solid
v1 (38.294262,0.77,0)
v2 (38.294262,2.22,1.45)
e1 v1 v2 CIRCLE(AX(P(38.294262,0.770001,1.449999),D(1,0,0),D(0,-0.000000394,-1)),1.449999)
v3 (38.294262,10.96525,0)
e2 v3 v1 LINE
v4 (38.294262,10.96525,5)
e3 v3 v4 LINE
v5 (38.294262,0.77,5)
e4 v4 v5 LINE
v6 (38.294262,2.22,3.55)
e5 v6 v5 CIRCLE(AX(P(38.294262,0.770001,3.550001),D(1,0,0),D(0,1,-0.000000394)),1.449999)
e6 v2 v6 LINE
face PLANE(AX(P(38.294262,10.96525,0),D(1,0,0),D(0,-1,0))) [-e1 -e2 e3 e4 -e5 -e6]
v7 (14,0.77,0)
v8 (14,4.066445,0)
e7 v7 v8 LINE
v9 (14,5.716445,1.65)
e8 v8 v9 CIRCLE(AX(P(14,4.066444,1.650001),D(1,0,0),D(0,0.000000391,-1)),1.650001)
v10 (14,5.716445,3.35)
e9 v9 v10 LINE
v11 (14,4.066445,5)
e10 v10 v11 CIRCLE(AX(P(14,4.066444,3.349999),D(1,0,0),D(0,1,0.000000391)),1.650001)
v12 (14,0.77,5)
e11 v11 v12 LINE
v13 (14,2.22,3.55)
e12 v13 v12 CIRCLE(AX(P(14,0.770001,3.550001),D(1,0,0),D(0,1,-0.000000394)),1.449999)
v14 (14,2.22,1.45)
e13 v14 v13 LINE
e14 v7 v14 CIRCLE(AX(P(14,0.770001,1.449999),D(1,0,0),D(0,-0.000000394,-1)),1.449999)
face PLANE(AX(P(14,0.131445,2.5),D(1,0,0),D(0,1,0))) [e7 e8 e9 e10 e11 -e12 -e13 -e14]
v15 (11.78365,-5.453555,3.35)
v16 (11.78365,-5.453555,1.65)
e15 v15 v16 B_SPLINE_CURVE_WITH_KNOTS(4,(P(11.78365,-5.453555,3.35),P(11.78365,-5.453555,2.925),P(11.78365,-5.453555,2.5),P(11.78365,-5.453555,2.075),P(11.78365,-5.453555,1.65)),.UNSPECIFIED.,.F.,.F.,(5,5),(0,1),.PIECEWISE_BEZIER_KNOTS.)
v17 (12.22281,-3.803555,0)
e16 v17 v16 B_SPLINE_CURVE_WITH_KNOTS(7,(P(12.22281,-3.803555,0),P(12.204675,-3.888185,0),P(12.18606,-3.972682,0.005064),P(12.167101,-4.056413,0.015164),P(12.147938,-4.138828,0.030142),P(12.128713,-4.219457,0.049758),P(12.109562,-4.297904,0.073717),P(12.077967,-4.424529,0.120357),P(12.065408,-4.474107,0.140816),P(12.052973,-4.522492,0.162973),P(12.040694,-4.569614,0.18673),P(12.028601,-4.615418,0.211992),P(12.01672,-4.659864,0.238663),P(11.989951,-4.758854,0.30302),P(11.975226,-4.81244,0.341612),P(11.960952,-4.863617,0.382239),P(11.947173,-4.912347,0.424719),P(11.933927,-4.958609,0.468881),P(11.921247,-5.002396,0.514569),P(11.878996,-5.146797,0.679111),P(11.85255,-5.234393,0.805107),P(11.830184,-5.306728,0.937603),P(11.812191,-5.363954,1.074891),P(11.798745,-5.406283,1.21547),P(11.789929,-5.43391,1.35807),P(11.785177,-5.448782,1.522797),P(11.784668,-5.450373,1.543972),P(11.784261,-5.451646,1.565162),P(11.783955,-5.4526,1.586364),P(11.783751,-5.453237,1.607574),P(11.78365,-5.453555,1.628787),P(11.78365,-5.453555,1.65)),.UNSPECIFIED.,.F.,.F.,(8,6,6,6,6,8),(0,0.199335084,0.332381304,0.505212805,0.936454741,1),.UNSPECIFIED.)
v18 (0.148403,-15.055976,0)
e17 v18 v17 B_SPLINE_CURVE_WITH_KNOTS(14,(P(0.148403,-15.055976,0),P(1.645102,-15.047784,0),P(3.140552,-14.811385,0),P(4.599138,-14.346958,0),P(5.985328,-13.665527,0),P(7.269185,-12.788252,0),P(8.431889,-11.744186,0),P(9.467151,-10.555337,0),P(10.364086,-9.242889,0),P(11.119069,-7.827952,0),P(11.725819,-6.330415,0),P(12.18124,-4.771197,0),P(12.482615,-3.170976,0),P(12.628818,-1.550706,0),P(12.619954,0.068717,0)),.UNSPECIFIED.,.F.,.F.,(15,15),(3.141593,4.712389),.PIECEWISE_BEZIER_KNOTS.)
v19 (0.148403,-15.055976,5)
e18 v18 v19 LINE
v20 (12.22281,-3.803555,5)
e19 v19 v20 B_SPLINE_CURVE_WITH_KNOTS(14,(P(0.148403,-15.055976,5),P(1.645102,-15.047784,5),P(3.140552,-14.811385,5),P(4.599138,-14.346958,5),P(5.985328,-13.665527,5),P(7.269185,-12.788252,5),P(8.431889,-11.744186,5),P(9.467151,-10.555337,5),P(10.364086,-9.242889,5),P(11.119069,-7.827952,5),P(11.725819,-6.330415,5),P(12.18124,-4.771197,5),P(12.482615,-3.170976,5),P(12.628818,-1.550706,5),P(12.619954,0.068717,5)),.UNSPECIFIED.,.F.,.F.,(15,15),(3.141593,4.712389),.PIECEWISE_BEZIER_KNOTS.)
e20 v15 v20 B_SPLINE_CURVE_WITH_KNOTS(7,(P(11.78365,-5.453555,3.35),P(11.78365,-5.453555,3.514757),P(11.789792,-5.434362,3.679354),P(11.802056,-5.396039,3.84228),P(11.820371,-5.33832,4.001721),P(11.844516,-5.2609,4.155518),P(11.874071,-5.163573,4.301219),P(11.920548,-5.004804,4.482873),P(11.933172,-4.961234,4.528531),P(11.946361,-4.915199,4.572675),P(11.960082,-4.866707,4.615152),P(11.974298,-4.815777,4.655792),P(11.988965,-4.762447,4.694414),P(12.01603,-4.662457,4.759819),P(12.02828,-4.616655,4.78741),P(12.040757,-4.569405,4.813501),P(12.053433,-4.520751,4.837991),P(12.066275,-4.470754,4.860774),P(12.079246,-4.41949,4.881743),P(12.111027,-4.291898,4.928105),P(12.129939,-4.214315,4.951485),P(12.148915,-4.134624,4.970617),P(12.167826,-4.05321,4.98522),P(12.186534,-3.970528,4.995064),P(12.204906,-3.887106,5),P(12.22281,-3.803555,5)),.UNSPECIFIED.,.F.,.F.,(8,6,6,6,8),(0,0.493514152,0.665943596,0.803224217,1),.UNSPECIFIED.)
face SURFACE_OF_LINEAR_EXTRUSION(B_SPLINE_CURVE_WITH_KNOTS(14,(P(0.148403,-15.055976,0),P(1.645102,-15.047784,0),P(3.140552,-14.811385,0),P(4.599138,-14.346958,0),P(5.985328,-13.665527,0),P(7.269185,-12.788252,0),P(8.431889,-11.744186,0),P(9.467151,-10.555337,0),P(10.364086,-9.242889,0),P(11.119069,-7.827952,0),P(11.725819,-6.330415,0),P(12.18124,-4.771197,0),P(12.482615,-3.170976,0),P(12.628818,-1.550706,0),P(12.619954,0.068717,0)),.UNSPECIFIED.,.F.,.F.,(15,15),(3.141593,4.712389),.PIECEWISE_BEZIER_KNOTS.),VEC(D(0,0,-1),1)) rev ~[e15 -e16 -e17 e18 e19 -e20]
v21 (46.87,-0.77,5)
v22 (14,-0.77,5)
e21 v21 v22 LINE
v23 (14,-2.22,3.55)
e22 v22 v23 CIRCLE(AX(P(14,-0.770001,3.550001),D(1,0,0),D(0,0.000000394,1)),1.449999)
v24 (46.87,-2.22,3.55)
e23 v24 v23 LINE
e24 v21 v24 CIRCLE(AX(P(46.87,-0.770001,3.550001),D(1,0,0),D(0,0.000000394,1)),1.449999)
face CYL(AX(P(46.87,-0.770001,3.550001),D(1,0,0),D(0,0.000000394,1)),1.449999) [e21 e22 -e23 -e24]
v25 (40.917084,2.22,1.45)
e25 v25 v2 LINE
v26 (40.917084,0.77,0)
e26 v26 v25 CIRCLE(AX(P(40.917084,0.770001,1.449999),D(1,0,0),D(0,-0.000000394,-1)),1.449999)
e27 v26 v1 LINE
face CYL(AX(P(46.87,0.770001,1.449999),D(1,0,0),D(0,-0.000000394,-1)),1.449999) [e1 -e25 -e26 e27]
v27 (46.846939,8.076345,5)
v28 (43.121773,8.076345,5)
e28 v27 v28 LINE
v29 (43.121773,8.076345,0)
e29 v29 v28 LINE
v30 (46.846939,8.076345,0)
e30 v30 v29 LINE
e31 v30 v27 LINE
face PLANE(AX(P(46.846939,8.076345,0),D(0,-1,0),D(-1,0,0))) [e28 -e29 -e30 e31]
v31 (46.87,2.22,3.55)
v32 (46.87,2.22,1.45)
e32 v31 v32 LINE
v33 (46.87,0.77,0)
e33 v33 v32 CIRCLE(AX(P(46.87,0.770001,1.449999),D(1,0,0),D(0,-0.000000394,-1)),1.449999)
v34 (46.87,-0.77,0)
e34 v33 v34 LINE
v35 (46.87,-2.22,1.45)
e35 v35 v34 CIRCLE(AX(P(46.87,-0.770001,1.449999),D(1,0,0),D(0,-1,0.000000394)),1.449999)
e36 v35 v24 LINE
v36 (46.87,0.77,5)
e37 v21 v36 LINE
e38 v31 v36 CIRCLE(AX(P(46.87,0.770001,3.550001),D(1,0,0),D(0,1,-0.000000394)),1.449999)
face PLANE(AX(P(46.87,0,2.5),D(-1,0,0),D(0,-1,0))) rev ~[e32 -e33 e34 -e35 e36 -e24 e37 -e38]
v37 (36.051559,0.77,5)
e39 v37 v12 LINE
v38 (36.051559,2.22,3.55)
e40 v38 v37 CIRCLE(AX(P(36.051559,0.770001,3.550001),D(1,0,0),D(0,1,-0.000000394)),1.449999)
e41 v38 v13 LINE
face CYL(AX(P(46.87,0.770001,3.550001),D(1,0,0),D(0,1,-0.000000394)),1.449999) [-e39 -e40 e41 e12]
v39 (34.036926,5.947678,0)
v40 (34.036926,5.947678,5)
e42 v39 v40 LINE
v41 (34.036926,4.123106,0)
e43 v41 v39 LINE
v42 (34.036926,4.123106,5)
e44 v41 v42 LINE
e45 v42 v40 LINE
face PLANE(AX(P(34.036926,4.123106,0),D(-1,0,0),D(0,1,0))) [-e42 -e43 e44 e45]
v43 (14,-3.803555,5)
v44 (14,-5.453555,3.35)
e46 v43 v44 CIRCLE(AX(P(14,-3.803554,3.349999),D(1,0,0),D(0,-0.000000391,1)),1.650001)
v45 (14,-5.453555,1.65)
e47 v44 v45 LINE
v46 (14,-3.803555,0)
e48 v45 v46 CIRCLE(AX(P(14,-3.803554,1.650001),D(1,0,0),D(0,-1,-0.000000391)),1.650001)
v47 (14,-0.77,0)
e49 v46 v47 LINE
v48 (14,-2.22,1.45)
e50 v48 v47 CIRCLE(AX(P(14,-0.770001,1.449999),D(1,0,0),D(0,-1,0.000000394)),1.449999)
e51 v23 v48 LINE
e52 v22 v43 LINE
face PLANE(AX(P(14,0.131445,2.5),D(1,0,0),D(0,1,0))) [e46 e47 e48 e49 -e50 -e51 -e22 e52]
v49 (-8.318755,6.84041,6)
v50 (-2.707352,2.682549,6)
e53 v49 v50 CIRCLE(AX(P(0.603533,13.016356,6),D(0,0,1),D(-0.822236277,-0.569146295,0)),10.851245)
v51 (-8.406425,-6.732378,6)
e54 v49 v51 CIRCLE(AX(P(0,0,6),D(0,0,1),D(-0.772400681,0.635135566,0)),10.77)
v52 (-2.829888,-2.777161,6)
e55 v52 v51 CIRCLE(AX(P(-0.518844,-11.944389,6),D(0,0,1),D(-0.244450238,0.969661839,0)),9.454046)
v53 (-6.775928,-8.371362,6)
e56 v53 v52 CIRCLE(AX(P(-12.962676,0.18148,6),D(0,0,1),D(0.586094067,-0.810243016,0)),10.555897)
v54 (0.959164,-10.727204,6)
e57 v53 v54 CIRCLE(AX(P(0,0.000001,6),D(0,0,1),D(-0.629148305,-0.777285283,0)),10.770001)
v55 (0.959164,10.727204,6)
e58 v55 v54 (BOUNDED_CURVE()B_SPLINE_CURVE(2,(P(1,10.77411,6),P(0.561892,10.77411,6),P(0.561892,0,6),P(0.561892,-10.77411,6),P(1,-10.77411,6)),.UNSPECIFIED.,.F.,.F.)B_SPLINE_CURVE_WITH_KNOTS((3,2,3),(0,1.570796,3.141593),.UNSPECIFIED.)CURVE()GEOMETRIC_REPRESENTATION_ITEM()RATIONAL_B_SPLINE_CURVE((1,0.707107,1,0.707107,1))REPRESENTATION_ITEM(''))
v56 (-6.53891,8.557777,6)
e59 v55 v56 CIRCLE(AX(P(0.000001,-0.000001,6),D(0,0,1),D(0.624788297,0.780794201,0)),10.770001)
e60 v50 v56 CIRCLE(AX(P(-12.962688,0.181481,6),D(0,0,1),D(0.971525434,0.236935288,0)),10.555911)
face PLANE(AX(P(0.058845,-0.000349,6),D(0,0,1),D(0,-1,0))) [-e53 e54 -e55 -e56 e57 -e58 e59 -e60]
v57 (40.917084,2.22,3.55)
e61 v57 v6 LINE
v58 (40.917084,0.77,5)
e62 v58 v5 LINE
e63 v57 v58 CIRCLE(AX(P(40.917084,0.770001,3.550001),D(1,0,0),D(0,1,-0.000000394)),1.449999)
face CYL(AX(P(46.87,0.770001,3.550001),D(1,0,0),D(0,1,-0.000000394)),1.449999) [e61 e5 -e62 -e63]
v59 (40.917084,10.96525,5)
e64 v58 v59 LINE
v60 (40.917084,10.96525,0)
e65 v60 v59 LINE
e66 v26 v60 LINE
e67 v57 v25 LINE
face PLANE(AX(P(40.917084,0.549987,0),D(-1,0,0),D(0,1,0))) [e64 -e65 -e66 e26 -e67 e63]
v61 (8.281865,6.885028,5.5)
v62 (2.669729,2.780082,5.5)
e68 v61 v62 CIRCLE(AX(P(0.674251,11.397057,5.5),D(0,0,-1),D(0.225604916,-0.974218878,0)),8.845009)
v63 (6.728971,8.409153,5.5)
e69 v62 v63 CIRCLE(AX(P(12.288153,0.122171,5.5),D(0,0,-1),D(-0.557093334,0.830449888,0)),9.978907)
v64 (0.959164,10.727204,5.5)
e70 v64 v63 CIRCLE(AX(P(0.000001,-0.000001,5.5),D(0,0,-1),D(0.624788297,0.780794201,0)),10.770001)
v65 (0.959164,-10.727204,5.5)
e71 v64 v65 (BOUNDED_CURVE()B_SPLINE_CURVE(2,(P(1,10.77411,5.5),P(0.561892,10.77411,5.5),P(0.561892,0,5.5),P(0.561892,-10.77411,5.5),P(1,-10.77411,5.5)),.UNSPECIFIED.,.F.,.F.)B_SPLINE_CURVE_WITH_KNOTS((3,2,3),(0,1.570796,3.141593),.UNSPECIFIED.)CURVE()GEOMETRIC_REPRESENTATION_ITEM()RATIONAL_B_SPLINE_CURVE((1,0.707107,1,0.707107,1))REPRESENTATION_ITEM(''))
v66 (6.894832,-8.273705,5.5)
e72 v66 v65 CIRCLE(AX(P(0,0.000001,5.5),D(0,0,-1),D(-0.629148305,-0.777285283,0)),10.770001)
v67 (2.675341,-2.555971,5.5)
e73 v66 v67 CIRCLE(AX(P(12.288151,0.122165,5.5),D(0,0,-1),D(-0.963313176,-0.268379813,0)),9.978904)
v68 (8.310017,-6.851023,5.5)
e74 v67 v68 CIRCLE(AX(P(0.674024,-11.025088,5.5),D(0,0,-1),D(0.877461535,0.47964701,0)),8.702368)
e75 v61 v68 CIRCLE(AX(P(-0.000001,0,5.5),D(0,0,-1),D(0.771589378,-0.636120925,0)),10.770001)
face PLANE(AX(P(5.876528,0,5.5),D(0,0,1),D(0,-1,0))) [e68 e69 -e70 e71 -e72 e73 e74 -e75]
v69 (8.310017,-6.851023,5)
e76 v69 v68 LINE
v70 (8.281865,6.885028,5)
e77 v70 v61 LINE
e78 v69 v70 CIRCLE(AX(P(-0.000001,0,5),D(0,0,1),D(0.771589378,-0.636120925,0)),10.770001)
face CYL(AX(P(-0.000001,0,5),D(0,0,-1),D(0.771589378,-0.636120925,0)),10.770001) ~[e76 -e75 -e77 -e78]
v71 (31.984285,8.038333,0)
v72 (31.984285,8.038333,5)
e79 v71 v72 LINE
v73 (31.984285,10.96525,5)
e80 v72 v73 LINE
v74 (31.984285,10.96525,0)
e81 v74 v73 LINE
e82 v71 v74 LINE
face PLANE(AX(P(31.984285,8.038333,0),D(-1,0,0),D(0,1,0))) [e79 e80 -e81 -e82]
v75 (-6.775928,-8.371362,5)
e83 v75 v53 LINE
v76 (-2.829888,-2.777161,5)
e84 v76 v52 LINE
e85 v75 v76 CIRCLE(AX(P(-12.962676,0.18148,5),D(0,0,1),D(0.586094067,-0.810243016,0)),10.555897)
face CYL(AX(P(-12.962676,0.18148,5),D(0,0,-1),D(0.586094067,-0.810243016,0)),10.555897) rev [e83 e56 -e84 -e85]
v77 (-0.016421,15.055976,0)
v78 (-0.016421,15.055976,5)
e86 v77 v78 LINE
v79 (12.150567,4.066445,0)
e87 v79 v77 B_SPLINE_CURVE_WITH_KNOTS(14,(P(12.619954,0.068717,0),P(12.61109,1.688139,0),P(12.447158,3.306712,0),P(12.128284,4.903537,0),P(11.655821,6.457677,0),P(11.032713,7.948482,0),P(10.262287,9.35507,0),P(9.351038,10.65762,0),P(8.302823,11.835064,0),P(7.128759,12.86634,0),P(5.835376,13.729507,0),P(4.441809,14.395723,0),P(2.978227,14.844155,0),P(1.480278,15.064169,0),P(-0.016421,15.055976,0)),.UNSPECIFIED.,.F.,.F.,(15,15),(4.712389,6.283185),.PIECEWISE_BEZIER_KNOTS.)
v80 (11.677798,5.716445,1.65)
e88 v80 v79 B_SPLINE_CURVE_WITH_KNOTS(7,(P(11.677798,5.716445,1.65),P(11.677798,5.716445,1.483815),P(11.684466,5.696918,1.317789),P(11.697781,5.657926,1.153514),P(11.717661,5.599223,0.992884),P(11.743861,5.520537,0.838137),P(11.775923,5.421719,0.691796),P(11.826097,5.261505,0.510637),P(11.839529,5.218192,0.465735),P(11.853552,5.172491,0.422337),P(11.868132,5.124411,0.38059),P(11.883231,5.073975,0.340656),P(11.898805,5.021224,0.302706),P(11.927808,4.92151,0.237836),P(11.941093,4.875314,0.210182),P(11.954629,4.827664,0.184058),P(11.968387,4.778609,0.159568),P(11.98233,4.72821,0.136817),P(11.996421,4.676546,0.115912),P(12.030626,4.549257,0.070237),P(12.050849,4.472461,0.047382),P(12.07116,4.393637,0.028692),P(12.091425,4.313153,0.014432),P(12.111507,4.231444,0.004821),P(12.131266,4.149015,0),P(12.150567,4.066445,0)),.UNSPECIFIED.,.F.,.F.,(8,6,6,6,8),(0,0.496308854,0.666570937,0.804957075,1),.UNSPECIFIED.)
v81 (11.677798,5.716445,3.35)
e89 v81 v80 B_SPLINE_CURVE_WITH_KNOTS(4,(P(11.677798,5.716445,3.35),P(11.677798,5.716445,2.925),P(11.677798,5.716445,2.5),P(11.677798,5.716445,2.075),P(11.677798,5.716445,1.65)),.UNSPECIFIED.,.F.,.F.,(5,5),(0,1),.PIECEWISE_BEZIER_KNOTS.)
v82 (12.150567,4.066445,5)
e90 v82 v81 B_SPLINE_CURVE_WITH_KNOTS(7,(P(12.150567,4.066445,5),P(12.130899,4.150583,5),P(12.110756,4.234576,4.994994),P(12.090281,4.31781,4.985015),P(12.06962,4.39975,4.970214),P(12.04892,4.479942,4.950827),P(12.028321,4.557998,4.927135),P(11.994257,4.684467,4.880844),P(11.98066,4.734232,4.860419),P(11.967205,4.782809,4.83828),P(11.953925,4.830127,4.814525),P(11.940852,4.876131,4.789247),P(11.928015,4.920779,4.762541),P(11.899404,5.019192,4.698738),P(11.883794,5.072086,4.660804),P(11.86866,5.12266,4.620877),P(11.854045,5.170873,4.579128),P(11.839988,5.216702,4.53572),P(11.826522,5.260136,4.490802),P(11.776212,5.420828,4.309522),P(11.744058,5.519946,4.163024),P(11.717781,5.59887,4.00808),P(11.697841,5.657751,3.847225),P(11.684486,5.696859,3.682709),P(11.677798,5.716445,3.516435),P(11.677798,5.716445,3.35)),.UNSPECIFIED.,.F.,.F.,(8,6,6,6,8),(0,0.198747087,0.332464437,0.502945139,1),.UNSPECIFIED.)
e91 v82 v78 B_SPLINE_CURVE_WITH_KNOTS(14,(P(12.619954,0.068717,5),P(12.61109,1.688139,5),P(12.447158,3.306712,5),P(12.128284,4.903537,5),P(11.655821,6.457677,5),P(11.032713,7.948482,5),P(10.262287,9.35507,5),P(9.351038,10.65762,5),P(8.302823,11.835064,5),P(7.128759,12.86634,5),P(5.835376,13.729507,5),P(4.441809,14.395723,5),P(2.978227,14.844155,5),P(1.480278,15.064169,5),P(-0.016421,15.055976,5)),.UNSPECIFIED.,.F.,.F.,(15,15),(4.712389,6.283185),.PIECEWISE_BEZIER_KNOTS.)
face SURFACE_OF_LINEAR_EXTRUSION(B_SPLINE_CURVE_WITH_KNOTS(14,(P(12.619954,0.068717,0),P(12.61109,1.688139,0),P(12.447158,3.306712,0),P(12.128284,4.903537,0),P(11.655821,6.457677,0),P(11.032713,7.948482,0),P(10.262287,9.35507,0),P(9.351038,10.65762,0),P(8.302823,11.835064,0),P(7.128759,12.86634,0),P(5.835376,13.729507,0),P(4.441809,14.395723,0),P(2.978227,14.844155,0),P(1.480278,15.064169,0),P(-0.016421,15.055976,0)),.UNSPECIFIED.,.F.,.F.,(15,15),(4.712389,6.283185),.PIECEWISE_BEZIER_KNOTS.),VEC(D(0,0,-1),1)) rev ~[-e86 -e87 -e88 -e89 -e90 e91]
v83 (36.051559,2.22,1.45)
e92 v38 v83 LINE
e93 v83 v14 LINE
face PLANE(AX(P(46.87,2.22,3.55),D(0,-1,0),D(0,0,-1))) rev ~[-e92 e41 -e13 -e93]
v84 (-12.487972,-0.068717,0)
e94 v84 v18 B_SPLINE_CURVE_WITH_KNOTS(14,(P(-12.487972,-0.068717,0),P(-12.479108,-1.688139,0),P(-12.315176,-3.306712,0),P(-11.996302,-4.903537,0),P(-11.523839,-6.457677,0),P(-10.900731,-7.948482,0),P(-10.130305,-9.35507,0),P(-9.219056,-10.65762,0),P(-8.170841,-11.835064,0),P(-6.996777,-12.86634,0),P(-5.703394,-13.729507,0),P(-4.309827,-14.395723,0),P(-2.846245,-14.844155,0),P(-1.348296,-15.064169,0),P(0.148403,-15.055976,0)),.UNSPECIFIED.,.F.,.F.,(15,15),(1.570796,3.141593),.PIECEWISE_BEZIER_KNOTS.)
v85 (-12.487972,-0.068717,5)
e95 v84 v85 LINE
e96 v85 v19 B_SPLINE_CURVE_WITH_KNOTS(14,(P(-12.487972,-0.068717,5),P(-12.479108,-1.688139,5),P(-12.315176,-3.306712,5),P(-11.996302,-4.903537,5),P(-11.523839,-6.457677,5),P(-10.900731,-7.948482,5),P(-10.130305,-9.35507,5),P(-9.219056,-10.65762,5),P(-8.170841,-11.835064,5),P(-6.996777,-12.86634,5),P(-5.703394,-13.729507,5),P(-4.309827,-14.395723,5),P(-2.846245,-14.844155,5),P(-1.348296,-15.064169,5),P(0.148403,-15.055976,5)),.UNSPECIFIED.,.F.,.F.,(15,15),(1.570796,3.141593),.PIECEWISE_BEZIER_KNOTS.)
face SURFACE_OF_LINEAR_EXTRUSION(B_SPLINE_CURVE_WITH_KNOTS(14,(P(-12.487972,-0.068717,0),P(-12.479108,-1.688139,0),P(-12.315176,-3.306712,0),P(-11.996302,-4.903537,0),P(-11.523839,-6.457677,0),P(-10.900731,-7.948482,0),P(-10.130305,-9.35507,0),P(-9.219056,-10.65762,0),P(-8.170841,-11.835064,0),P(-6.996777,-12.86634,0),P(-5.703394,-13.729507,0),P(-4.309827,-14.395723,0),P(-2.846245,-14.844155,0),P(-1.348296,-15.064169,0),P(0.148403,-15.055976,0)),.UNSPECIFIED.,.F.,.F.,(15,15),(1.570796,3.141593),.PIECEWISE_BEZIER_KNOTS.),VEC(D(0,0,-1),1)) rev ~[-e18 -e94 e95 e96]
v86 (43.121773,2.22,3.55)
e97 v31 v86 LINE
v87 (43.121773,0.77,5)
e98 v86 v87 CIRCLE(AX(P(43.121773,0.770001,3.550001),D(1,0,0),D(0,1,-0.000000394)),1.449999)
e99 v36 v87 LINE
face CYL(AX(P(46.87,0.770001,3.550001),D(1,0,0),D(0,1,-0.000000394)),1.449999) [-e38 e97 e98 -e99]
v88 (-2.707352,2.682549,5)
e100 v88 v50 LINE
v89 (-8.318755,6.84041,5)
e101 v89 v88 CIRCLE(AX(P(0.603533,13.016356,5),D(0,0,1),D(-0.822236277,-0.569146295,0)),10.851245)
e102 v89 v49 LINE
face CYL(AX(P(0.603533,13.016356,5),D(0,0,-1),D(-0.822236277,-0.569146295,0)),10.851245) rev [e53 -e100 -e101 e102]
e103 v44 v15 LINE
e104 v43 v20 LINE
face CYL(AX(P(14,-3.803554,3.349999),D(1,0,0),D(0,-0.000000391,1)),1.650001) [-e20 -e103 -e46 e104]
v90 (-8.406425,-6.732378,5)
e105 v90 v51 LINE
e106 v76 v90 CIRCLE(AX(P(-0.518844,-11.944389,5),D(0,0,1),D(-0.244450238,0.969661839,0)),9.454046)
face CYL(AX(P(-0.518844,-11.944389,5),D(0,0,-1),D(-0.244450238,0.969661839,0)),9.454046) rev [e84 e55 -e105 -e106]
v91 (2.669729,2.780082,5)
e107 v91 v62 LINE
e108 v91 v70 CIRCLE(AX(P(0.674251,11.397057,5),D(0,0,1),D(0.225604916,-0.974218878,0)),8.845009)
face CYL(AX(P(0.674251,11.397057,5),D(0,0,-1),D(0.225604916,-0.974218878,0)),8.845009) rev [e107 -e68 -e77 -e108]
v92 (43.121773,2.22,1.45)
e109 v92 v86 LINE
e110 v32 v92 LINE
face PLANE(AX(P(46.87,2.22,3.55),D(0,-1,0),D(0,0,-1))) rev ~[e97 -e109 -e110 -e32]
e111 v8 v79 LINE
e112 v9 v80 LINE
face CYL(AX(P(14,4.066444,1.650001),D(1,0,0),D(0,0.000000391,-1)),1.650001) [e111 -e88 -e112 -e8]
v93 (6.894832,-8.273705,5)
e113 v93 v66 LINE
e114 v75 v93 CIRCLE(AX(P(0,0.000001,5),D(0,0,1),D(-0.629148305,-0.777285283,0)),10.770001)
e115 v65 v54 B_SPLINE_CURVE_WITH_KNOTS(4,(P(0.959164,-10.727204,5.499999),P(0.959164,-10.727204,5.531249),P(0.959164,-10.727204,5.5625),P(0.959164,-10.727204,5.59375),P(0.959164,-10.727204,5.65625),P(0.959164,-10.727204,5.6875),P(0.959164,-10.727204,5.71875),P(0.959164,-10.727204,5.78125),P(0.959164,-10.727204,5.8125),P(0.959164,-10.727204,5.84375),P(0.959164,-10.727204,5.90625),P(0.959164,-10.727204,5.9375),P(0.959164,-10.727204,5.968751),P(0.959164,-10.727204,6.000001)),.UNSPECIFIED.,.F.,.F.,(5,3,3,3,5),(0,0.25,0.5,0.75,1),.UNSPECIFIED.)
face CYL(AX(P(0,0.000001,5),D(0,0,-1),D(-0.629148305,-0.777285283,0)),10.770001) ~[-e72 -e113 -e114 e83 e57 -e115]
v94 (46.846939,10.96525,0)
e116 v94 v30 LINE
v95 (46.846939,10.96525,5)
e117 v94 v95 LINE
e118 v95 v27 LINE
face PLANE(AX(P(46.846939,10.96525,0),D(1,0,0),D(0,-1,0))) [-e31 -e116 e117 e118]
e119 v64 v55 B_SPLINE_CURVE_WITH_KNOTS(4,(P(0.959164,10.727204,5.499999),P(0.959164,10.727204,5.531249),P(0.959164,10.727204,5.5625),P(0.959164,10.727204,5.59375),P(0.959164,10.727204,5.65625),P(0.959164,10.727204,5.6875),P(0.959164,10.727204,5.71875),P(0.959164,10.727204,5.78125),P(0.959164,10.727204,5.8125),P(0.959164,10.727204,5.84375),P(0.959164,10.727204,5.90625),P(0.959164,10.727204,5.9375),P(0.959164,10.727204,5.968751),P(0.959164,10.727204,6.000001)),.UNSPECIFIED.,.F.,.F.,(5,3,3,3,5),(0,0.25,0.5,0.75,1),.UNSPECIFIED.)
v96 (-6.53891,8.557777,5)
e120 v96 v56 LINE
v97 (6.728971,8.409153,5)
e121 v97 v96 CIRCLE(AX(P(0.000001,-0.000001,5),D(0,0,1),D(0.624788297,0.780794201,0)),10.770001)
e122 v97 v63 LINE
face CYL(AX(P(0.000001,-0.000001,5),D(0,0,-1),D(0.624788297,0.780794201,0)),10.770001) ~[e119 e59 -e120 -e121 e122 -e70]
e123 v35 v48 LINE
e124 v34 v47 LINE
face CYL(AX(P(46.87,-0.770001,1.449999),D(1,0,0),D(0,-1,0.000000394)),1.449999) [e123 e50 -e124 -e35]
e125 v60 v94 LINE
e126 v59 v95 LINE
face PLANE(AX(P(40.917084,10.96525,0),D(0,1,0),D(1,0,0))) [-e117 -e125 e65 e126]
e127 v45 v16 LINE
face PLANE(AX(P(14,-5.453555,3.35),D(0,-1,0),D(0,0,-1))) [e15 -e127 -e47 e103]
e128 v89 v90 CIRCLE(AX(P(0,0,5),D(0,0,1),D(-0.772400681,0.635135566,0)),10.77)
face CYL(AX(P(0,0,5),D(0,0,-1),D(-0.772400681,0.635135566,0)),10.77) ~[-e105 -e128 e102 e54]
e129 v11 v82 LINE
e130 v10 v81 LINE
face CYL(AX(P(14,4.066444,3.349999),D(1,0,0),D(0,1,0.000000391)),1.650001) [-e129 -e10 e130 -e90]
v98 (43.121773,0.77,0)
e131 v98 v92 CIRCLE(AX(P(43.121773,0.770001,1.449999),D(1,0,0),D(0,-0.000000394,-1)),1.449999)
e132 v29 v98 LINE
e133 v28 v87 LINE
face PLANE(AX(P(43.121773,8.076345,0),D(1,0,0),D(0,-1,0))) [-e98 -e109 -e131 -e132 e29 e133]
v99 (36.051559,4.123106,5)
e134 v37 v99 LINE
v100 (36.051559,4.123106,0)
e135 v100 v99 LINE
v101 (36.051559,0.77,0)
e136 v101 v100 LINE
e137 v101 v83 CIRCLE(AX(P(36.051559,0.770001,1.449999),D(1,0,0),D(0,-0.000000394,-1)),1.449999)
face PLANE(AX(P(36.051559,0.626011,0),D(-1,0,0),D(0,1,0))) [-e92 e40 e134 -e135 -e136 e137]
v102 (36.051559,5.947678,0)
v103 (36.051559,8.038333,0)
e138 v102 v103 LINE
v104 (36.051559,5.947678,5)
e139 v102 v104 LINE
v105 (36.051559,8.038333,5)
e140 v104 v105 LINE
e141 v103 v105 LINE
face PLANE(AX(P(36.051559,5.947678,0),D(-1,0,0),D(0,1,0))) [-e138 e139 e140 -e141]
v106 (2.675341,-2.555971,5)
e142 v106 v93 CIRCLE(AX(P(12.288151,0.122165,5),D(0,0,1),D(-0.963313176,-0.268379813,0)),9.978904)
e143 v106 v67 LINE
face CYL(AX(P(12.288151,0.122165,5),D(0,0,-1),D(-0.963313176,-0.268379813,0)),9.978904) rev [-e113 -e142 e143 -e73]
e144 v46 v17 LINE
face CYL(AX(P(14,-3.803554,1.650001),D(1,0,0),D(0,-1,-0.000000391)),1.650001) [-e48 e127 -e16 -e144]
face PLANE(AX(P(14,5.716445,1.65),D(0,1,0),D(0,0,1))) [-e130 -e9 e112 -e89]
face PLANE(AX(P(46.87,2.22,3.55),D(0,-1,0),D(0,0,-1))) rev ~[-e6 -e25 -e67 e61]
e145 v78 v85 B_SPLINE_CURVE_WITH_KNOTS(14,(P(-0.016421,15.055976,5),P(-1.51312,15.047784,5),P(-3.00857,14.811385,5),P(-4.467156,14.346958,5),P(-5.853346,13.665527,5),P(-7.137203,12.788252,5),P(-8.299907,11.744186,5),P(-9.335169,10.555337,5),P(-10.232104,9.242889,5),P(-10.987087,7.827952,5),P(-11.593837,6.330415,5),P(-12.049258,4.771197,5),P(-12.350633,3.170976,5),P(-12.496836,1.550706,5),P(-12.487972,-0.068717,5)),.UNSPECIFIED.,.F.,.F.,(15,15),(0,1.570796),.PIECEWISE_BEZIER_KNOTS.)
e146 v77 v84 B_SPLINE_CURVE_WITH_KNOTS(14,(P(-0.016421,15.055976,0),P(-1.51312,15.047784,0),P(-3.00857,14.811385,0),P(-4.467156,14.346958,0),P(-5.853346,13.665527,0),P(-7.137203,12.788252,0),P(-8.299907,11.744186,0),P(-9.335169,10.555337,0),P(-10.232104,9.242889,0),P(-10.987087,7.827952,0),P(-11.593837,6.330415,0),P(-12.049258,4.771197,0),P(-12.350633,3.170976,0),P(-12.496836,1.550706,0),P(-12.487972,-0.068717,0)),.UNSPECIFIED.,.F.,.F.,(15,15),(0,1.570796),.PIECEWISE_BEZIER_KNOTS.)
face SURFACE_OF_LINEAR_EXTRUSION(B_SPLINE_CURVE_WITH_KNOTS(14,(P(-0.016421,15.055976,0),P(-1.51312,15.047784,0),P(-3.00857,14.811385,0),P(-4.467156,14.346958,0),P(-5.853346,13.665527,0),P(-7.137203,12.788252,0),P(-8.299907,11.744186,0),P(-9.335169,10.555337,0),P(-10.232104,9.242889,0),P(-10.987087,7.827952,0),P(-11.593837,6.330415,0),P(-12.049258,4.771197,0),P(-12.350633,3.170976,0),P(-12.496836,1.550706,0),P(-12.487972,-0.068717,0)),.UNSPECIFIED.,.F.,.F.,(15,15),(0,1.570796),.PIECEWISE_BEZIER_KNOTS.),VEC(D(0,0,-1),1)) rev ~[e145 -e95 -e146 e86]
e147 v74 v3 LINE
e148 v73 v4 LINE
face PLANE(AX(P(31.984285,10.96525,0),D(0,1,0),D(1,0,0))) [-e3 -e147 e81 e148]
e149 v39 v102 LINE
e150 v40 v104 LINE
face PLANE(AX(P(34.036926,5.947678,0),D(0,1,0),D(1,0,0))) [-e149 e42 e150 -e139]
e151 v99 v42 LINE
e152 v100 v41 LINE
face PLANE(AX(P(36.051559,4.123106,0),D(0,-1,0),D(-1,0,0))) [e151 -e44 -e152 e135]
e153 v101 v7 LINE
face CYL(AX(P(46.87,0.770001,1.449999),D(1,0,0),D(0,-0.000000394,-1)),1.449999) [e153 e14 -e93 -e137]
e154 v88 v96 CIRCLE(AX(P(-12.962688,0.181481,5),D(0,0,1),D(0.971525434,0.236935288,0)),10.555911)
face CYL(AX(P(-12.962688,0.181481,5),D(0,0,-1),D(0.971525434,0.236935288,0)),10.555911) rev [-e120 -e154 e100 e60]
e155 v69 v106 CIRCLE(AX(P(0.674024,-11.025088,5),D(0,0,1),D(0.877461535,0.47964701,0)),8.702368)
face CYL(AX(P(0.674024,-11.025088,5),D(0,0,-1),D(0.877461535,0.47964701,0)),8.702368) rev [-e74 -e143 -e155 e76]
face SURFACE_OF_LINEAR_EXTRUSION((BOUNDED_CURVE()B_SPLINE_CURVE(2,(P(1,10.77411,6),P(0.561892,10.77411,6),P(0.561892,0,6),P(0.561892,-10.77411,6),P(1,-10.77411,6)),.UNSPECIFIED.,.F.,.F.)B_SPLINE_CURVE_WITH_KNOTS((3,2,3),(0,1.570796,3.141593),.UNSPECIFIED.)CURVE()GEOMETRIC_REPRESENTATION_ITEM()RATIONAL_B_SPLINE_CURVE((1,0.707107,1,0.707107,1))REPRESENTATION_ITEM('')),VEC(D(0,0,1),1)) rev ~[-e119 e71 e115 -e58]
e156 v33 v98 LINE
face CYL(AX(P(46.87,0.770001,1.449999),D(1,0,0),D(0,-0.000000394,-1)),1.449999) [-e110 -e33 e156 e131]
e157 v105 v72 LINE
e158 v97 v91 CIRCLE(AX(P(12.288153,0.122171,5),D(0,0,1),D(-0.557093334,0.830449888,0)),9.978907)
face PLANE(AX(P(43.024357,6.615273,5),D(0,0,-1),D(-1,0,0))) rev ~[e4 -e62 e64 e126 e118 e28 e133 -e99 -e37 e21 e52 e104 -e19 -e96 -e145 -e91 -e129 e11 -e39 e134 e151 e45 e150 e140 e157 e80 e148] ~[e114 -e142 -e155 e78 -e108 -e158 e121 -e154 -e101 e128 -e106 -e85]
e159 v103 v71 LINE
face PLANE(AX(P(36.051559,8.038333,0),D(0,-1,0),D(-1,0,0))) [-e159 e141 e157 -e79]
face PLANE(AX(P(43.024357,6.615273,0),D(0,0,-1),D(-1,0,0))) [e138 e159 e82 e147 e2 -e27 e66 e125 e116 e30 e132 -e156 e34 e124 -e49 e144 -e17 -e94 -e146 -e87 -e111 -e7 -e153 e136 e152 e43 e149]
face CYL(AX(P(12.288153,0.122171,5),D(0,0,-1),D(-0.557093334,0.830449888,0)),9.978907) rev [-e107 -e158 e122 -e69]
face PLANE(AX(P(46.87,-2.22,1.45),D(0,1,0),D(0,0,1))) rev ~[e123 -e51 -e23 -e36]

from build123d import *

# Parameters (mm, degrees)
PAD002_DEPTH = 35
PAD003_DEPTH = 4
PAD004_DEPTH = 5
PAD005_DEPTH = 5
PAD_DEPTH    = 1
POCKET_DEPTH = 0.5


with BuildPart() as part:
    # Sketch002 → Pad002 (new body)
    with BuildSketch(Plane.YZ.offset(46.87)):
        with BuildLine():
            Line((-0.77, 5), (0.77, 5))
            ThreePointArc((2.22, 3.55), (1.795305, 4.575305), (0.77, 5))
            Line((2.22, 3.55), (2.22, 1.45))
            ThreePointArc((0.77, 0), (1.795305, 0.424695), (2.22, 1.45))
            Line((0.77, 0), (-0.77, 0))
            ThreePointArc((-2.22, 1.45), (-1.795305, 0.424695), (-0.77, 0))
            Line((-2.22, 1.45), (-2.22, 3.55))
            ThreePointArc((-0.77, 5), (-1.795305, 4.575305), (-2.22, 3.55))
        make_face()
    extrude(amount=-PAD002_DEPTH)

    # Sketch003 → Pad003 (join)
    with BuildSketch(Plane.YZ.offset(14)):
        with BuildLine():
            Line((-3.803555, 0), (4.066445, 0))
            ThreePointArc((4.066445, 0), (5.233171, 0.483274), (5.716445, 1.65))
            Line((5.716445, 1.65), (5.716445, 3.35))
            ThreePointArc((5.716445, 3.35), (5.233171, 4.516726), (4.066445, 5))
            Line((4.066445, 5), (-3.803555, 5))
            ThreePointArc((-3.803555, 5), (-4.970281, 4.516726), (-5.453555, 3.35))
            Line((-5.453555, 3.35), (-5.453555, 1.65))
            ThreePointArc((-5.453555, 1.65), (-4.970281, 0.483274), (-3.803555, 0))
        make_face()
    extrude(amount=-PAD003_DEPTH)

    # Sketch005 → Pad004 (join)
    with BuildSketch(Plane.XY):
        with BuildLine():
            add(Edge.make_bspline(
                [(-0.016421, 15.055976), (-1.51312, 15.047784), (-3.00857, 14.811385), (-4.467156, 14.346958), (-5.853346, 13.665527), (-7.137203, 12.788252), (-8.299907, 11.744186), (-9.335169, 10.555337), (-10.232104, 9.242889), (-10.987087, 7.827952), (-11.593837, 6.330415), (-12.049258, 4.771197), (-12.350633, 3.170976), (-12.496836, 1.550706), (-12.487972, -0.068717)],
                knots=[0, 0, 0, 0, 0, 0, 0, 0, 0, 0, 0, 0, 0, 0, 0, 1.570796, 1.570796, 1.570796, 1.570796, 1.570796, 1.570796, 1.570796, 1.570796, 1.570796, 1.570796, 1.570796, 1.570796, 1.570796, 1.570796, 1.570796], degree=14))
            add(Edge.make_bspline(
                [(-12.487972, -0.068717), (-12.479108, -1.688139), (-12.315176, -3.306712), (-11.996302, -4.903537), (-11.523839, -6.457677), (-10.900731, -7.948482), (-10.130305, -9.35507), (-9.219056, -10.65762), (-8.170841, -11.835064), (-6.996777, -12.86634), (-5.703394, -13.729507), (-4.309827, -14.395723), (-2.846245, -14.844155), (-1.348296, -15.064169), (0.148403, -15.055976)],
                knots=[1.570796, 1.570796, 1.570796, 1.570796, 1.570796, 1.570796, 1.570796, 1.570796, 1.570796, 1.570796, 1.570796, 1.570796, 1.570796, 1.570796, 1.570796, 3.141593, 3.141593, 3.141593, 3.141593, 3.141593, 3.141593, 3.141593, 3.141593, 3.141593, 3.141593, 3.141593, 3.141593, 3.141593, 3.141593, 3.141593], degree=14))
            add(Edge.make_bspline(
                [(0.148403, -15.055976), (1.645102, -15.047784), (3.140552, -14.811385), (4.599138, -14.346958), (5.985328, -13.665527), (7.269185, -12.788252), (8.431889, -11.744186), (9.467151, -10.555337), (10.364086, -9.242889), (11.119069, -7.827952), (11.725819, -6.330415), (12.18124, -4.771197), (12.482615, -3.170976), (12.628818, -1.550706), (12.619954, 0.068717)],
                knots=[3.141593, 3.141593, 3.141593, 3.141593, 3.141593, 3.141593, 3.141593, 3.141593, 3.141593, 3.141593, 3.141593, 3.141593, 3.141593, 3.141593, 3.141593, 4.712389, 4.712389, 4.712389, 4.712389, 4.712389, 4.712389, 4.712389, 4.712389, 4.712389, 4.712389, 4.712389, 4.712389, 4.712389, 4.712389, 4.712389], degree=14))
            add(Edge.make_bspline(
                [(12.619954, 0.068717), (12.61109, 1.688139), (12.447158, 3.306712), (12.128284, 4.903537), (11.655821, 6.457677), (11.032713, 7.948482), (10.262287, 9.35507), (9.351038, 10.65762), (8.302823, 11.835064), (7.128759, 12.86634), (5.835376, 13.729507), (4.441809, 14.395723), (2.978227, 14.844155), (1.480278, 15.064169), (-0.016421, 15.055976)],
                knots=[4.712389, 4.712389, 4.712389, 4.712389, 4.712389, 4.712389, 4.712389, 4.712389, 4.712389, 4.712389, 4.712389, 4.712389, 4.712389, 4.712389, 4.712389, 6.283185, 6.283185, 6.283185, 6.283185, 6.283185, 6.283185, 6.283185, 6.283185, 6.283185, 6.283185, 6.283185, 6.283185, 6.283185, 6.283185, 6.283185], degree=14))
        make_face()
    extrude(amount=PAD004_DEPTH)

    # Sketch006 → Pad005 (join)
    with BuildSketch(Plane.XY):
        Polygon((43.121773, 8.076345), (43.121773, 0.549987), (40.917084, 0.549987), (40.917084, 10.96525), (46.846939, 10.96525), (46.846939, 8.076345), align=None)
        Polygon((31.984285, 10.96525), (38.294262, 10.96525), (38.294262, 0.626011), (36.051559, 0.626011), (36.051559, 4.123106), (34.036926, 4.123106), (34.036926, 5.947678), (36.051559, 5.947678), (36.051559, 8.038333), (31.984285, 8.038333), align=None)
    extrude(amount=PAD005_DEPTH)

    # Sketch (on Face46 of Pad005) → Pad (join)
    with BuildSketch(Plane(origin=(0, 0, 5), x_dir=(0, -1, 0), z_dir=(0, 0, 1))):
        with BuildLine():
            ThreePointArc((-8.409153, 6.728971), (-10.769324, 0.120636), (-8.557777, -6.53891))
            ThreePointArc((-2.682549, -2.707352), (-5.947717, -4.120868), (-8.557777, -6.53891))
            ThreePointArc((-6.84041, -8.318755), (-4.297701, -5.856698), (-2.682549, -2.707352))
            ThreePointArc((-6.84041, -8.318755), (-0.069564, -10.769775), (6.732378, -8.406425))
            ThreePointArc((2.777161, -2.829888), (4.233029, -5.988206), (6.732378, -8.406425))
            ThreePointArc((8.371362, -6.775928), (5.903039, -4.336809), (2.777161, -2.829888))
            ThreePointArc((8.371362, -6.775928), (10.769725, 0.076933), (8.273705, 6.894832))
            ThreePointArc((2.555971, 2.675341), (5.803156, 4.258886), (8.273705, 6.894832))
            ThreePointArc((6.851023, 8.310017), (4.104112, 5.949562), (2.555971, 2.675341))
            ThreePointArc((6.851023, 8.310017), (-0.022073, 10.769977), (-6.885028, 8.281865))
            ThreePointArc((-2.780082, 2.669729), (-4.25796, 5.896079), (-6.885028, 8.281865))
            ThreePointArc((-8.409153, 6.728971), (-5.958868, 4.194233), (-2.780082, 2.669729))
        make_face()
    extrude(amount=PAD_DEPTH)

    # Sketch009 (on Face74 of Pad) → Pocket (cut)
    with BuildSketch(Plane(origin=(1, 0, 6), x_dir=(0, -1, 0), z_dir=(0, 0, 1))):
        with BuildLine():
            add(Edge.make_bspline(
                [(-10.77411, 0), (-10.77411, -0.438108), (0, -0.438108), (10.77411, -0.438108), (10.77411, 0)],
                knots=[0, 0, 0, 1.570796, 1.570796, 3.141593, 3.141593, 3.141593], degree=2, weights=[1, 0.707107, 1, 0.707107, 1]))
            Line((10.77411, 0), (10.77411, 9.970053))
            Line((10.77411, 9.970053), (-10.77411, 9.970053))
            Line((-10.77411, 9.970053), (-10.77411, 0))
        make_face()
    extrude(amount=-POCKET_DEPTH, mode=Mode.SUBTRACT)


solid = part.part
